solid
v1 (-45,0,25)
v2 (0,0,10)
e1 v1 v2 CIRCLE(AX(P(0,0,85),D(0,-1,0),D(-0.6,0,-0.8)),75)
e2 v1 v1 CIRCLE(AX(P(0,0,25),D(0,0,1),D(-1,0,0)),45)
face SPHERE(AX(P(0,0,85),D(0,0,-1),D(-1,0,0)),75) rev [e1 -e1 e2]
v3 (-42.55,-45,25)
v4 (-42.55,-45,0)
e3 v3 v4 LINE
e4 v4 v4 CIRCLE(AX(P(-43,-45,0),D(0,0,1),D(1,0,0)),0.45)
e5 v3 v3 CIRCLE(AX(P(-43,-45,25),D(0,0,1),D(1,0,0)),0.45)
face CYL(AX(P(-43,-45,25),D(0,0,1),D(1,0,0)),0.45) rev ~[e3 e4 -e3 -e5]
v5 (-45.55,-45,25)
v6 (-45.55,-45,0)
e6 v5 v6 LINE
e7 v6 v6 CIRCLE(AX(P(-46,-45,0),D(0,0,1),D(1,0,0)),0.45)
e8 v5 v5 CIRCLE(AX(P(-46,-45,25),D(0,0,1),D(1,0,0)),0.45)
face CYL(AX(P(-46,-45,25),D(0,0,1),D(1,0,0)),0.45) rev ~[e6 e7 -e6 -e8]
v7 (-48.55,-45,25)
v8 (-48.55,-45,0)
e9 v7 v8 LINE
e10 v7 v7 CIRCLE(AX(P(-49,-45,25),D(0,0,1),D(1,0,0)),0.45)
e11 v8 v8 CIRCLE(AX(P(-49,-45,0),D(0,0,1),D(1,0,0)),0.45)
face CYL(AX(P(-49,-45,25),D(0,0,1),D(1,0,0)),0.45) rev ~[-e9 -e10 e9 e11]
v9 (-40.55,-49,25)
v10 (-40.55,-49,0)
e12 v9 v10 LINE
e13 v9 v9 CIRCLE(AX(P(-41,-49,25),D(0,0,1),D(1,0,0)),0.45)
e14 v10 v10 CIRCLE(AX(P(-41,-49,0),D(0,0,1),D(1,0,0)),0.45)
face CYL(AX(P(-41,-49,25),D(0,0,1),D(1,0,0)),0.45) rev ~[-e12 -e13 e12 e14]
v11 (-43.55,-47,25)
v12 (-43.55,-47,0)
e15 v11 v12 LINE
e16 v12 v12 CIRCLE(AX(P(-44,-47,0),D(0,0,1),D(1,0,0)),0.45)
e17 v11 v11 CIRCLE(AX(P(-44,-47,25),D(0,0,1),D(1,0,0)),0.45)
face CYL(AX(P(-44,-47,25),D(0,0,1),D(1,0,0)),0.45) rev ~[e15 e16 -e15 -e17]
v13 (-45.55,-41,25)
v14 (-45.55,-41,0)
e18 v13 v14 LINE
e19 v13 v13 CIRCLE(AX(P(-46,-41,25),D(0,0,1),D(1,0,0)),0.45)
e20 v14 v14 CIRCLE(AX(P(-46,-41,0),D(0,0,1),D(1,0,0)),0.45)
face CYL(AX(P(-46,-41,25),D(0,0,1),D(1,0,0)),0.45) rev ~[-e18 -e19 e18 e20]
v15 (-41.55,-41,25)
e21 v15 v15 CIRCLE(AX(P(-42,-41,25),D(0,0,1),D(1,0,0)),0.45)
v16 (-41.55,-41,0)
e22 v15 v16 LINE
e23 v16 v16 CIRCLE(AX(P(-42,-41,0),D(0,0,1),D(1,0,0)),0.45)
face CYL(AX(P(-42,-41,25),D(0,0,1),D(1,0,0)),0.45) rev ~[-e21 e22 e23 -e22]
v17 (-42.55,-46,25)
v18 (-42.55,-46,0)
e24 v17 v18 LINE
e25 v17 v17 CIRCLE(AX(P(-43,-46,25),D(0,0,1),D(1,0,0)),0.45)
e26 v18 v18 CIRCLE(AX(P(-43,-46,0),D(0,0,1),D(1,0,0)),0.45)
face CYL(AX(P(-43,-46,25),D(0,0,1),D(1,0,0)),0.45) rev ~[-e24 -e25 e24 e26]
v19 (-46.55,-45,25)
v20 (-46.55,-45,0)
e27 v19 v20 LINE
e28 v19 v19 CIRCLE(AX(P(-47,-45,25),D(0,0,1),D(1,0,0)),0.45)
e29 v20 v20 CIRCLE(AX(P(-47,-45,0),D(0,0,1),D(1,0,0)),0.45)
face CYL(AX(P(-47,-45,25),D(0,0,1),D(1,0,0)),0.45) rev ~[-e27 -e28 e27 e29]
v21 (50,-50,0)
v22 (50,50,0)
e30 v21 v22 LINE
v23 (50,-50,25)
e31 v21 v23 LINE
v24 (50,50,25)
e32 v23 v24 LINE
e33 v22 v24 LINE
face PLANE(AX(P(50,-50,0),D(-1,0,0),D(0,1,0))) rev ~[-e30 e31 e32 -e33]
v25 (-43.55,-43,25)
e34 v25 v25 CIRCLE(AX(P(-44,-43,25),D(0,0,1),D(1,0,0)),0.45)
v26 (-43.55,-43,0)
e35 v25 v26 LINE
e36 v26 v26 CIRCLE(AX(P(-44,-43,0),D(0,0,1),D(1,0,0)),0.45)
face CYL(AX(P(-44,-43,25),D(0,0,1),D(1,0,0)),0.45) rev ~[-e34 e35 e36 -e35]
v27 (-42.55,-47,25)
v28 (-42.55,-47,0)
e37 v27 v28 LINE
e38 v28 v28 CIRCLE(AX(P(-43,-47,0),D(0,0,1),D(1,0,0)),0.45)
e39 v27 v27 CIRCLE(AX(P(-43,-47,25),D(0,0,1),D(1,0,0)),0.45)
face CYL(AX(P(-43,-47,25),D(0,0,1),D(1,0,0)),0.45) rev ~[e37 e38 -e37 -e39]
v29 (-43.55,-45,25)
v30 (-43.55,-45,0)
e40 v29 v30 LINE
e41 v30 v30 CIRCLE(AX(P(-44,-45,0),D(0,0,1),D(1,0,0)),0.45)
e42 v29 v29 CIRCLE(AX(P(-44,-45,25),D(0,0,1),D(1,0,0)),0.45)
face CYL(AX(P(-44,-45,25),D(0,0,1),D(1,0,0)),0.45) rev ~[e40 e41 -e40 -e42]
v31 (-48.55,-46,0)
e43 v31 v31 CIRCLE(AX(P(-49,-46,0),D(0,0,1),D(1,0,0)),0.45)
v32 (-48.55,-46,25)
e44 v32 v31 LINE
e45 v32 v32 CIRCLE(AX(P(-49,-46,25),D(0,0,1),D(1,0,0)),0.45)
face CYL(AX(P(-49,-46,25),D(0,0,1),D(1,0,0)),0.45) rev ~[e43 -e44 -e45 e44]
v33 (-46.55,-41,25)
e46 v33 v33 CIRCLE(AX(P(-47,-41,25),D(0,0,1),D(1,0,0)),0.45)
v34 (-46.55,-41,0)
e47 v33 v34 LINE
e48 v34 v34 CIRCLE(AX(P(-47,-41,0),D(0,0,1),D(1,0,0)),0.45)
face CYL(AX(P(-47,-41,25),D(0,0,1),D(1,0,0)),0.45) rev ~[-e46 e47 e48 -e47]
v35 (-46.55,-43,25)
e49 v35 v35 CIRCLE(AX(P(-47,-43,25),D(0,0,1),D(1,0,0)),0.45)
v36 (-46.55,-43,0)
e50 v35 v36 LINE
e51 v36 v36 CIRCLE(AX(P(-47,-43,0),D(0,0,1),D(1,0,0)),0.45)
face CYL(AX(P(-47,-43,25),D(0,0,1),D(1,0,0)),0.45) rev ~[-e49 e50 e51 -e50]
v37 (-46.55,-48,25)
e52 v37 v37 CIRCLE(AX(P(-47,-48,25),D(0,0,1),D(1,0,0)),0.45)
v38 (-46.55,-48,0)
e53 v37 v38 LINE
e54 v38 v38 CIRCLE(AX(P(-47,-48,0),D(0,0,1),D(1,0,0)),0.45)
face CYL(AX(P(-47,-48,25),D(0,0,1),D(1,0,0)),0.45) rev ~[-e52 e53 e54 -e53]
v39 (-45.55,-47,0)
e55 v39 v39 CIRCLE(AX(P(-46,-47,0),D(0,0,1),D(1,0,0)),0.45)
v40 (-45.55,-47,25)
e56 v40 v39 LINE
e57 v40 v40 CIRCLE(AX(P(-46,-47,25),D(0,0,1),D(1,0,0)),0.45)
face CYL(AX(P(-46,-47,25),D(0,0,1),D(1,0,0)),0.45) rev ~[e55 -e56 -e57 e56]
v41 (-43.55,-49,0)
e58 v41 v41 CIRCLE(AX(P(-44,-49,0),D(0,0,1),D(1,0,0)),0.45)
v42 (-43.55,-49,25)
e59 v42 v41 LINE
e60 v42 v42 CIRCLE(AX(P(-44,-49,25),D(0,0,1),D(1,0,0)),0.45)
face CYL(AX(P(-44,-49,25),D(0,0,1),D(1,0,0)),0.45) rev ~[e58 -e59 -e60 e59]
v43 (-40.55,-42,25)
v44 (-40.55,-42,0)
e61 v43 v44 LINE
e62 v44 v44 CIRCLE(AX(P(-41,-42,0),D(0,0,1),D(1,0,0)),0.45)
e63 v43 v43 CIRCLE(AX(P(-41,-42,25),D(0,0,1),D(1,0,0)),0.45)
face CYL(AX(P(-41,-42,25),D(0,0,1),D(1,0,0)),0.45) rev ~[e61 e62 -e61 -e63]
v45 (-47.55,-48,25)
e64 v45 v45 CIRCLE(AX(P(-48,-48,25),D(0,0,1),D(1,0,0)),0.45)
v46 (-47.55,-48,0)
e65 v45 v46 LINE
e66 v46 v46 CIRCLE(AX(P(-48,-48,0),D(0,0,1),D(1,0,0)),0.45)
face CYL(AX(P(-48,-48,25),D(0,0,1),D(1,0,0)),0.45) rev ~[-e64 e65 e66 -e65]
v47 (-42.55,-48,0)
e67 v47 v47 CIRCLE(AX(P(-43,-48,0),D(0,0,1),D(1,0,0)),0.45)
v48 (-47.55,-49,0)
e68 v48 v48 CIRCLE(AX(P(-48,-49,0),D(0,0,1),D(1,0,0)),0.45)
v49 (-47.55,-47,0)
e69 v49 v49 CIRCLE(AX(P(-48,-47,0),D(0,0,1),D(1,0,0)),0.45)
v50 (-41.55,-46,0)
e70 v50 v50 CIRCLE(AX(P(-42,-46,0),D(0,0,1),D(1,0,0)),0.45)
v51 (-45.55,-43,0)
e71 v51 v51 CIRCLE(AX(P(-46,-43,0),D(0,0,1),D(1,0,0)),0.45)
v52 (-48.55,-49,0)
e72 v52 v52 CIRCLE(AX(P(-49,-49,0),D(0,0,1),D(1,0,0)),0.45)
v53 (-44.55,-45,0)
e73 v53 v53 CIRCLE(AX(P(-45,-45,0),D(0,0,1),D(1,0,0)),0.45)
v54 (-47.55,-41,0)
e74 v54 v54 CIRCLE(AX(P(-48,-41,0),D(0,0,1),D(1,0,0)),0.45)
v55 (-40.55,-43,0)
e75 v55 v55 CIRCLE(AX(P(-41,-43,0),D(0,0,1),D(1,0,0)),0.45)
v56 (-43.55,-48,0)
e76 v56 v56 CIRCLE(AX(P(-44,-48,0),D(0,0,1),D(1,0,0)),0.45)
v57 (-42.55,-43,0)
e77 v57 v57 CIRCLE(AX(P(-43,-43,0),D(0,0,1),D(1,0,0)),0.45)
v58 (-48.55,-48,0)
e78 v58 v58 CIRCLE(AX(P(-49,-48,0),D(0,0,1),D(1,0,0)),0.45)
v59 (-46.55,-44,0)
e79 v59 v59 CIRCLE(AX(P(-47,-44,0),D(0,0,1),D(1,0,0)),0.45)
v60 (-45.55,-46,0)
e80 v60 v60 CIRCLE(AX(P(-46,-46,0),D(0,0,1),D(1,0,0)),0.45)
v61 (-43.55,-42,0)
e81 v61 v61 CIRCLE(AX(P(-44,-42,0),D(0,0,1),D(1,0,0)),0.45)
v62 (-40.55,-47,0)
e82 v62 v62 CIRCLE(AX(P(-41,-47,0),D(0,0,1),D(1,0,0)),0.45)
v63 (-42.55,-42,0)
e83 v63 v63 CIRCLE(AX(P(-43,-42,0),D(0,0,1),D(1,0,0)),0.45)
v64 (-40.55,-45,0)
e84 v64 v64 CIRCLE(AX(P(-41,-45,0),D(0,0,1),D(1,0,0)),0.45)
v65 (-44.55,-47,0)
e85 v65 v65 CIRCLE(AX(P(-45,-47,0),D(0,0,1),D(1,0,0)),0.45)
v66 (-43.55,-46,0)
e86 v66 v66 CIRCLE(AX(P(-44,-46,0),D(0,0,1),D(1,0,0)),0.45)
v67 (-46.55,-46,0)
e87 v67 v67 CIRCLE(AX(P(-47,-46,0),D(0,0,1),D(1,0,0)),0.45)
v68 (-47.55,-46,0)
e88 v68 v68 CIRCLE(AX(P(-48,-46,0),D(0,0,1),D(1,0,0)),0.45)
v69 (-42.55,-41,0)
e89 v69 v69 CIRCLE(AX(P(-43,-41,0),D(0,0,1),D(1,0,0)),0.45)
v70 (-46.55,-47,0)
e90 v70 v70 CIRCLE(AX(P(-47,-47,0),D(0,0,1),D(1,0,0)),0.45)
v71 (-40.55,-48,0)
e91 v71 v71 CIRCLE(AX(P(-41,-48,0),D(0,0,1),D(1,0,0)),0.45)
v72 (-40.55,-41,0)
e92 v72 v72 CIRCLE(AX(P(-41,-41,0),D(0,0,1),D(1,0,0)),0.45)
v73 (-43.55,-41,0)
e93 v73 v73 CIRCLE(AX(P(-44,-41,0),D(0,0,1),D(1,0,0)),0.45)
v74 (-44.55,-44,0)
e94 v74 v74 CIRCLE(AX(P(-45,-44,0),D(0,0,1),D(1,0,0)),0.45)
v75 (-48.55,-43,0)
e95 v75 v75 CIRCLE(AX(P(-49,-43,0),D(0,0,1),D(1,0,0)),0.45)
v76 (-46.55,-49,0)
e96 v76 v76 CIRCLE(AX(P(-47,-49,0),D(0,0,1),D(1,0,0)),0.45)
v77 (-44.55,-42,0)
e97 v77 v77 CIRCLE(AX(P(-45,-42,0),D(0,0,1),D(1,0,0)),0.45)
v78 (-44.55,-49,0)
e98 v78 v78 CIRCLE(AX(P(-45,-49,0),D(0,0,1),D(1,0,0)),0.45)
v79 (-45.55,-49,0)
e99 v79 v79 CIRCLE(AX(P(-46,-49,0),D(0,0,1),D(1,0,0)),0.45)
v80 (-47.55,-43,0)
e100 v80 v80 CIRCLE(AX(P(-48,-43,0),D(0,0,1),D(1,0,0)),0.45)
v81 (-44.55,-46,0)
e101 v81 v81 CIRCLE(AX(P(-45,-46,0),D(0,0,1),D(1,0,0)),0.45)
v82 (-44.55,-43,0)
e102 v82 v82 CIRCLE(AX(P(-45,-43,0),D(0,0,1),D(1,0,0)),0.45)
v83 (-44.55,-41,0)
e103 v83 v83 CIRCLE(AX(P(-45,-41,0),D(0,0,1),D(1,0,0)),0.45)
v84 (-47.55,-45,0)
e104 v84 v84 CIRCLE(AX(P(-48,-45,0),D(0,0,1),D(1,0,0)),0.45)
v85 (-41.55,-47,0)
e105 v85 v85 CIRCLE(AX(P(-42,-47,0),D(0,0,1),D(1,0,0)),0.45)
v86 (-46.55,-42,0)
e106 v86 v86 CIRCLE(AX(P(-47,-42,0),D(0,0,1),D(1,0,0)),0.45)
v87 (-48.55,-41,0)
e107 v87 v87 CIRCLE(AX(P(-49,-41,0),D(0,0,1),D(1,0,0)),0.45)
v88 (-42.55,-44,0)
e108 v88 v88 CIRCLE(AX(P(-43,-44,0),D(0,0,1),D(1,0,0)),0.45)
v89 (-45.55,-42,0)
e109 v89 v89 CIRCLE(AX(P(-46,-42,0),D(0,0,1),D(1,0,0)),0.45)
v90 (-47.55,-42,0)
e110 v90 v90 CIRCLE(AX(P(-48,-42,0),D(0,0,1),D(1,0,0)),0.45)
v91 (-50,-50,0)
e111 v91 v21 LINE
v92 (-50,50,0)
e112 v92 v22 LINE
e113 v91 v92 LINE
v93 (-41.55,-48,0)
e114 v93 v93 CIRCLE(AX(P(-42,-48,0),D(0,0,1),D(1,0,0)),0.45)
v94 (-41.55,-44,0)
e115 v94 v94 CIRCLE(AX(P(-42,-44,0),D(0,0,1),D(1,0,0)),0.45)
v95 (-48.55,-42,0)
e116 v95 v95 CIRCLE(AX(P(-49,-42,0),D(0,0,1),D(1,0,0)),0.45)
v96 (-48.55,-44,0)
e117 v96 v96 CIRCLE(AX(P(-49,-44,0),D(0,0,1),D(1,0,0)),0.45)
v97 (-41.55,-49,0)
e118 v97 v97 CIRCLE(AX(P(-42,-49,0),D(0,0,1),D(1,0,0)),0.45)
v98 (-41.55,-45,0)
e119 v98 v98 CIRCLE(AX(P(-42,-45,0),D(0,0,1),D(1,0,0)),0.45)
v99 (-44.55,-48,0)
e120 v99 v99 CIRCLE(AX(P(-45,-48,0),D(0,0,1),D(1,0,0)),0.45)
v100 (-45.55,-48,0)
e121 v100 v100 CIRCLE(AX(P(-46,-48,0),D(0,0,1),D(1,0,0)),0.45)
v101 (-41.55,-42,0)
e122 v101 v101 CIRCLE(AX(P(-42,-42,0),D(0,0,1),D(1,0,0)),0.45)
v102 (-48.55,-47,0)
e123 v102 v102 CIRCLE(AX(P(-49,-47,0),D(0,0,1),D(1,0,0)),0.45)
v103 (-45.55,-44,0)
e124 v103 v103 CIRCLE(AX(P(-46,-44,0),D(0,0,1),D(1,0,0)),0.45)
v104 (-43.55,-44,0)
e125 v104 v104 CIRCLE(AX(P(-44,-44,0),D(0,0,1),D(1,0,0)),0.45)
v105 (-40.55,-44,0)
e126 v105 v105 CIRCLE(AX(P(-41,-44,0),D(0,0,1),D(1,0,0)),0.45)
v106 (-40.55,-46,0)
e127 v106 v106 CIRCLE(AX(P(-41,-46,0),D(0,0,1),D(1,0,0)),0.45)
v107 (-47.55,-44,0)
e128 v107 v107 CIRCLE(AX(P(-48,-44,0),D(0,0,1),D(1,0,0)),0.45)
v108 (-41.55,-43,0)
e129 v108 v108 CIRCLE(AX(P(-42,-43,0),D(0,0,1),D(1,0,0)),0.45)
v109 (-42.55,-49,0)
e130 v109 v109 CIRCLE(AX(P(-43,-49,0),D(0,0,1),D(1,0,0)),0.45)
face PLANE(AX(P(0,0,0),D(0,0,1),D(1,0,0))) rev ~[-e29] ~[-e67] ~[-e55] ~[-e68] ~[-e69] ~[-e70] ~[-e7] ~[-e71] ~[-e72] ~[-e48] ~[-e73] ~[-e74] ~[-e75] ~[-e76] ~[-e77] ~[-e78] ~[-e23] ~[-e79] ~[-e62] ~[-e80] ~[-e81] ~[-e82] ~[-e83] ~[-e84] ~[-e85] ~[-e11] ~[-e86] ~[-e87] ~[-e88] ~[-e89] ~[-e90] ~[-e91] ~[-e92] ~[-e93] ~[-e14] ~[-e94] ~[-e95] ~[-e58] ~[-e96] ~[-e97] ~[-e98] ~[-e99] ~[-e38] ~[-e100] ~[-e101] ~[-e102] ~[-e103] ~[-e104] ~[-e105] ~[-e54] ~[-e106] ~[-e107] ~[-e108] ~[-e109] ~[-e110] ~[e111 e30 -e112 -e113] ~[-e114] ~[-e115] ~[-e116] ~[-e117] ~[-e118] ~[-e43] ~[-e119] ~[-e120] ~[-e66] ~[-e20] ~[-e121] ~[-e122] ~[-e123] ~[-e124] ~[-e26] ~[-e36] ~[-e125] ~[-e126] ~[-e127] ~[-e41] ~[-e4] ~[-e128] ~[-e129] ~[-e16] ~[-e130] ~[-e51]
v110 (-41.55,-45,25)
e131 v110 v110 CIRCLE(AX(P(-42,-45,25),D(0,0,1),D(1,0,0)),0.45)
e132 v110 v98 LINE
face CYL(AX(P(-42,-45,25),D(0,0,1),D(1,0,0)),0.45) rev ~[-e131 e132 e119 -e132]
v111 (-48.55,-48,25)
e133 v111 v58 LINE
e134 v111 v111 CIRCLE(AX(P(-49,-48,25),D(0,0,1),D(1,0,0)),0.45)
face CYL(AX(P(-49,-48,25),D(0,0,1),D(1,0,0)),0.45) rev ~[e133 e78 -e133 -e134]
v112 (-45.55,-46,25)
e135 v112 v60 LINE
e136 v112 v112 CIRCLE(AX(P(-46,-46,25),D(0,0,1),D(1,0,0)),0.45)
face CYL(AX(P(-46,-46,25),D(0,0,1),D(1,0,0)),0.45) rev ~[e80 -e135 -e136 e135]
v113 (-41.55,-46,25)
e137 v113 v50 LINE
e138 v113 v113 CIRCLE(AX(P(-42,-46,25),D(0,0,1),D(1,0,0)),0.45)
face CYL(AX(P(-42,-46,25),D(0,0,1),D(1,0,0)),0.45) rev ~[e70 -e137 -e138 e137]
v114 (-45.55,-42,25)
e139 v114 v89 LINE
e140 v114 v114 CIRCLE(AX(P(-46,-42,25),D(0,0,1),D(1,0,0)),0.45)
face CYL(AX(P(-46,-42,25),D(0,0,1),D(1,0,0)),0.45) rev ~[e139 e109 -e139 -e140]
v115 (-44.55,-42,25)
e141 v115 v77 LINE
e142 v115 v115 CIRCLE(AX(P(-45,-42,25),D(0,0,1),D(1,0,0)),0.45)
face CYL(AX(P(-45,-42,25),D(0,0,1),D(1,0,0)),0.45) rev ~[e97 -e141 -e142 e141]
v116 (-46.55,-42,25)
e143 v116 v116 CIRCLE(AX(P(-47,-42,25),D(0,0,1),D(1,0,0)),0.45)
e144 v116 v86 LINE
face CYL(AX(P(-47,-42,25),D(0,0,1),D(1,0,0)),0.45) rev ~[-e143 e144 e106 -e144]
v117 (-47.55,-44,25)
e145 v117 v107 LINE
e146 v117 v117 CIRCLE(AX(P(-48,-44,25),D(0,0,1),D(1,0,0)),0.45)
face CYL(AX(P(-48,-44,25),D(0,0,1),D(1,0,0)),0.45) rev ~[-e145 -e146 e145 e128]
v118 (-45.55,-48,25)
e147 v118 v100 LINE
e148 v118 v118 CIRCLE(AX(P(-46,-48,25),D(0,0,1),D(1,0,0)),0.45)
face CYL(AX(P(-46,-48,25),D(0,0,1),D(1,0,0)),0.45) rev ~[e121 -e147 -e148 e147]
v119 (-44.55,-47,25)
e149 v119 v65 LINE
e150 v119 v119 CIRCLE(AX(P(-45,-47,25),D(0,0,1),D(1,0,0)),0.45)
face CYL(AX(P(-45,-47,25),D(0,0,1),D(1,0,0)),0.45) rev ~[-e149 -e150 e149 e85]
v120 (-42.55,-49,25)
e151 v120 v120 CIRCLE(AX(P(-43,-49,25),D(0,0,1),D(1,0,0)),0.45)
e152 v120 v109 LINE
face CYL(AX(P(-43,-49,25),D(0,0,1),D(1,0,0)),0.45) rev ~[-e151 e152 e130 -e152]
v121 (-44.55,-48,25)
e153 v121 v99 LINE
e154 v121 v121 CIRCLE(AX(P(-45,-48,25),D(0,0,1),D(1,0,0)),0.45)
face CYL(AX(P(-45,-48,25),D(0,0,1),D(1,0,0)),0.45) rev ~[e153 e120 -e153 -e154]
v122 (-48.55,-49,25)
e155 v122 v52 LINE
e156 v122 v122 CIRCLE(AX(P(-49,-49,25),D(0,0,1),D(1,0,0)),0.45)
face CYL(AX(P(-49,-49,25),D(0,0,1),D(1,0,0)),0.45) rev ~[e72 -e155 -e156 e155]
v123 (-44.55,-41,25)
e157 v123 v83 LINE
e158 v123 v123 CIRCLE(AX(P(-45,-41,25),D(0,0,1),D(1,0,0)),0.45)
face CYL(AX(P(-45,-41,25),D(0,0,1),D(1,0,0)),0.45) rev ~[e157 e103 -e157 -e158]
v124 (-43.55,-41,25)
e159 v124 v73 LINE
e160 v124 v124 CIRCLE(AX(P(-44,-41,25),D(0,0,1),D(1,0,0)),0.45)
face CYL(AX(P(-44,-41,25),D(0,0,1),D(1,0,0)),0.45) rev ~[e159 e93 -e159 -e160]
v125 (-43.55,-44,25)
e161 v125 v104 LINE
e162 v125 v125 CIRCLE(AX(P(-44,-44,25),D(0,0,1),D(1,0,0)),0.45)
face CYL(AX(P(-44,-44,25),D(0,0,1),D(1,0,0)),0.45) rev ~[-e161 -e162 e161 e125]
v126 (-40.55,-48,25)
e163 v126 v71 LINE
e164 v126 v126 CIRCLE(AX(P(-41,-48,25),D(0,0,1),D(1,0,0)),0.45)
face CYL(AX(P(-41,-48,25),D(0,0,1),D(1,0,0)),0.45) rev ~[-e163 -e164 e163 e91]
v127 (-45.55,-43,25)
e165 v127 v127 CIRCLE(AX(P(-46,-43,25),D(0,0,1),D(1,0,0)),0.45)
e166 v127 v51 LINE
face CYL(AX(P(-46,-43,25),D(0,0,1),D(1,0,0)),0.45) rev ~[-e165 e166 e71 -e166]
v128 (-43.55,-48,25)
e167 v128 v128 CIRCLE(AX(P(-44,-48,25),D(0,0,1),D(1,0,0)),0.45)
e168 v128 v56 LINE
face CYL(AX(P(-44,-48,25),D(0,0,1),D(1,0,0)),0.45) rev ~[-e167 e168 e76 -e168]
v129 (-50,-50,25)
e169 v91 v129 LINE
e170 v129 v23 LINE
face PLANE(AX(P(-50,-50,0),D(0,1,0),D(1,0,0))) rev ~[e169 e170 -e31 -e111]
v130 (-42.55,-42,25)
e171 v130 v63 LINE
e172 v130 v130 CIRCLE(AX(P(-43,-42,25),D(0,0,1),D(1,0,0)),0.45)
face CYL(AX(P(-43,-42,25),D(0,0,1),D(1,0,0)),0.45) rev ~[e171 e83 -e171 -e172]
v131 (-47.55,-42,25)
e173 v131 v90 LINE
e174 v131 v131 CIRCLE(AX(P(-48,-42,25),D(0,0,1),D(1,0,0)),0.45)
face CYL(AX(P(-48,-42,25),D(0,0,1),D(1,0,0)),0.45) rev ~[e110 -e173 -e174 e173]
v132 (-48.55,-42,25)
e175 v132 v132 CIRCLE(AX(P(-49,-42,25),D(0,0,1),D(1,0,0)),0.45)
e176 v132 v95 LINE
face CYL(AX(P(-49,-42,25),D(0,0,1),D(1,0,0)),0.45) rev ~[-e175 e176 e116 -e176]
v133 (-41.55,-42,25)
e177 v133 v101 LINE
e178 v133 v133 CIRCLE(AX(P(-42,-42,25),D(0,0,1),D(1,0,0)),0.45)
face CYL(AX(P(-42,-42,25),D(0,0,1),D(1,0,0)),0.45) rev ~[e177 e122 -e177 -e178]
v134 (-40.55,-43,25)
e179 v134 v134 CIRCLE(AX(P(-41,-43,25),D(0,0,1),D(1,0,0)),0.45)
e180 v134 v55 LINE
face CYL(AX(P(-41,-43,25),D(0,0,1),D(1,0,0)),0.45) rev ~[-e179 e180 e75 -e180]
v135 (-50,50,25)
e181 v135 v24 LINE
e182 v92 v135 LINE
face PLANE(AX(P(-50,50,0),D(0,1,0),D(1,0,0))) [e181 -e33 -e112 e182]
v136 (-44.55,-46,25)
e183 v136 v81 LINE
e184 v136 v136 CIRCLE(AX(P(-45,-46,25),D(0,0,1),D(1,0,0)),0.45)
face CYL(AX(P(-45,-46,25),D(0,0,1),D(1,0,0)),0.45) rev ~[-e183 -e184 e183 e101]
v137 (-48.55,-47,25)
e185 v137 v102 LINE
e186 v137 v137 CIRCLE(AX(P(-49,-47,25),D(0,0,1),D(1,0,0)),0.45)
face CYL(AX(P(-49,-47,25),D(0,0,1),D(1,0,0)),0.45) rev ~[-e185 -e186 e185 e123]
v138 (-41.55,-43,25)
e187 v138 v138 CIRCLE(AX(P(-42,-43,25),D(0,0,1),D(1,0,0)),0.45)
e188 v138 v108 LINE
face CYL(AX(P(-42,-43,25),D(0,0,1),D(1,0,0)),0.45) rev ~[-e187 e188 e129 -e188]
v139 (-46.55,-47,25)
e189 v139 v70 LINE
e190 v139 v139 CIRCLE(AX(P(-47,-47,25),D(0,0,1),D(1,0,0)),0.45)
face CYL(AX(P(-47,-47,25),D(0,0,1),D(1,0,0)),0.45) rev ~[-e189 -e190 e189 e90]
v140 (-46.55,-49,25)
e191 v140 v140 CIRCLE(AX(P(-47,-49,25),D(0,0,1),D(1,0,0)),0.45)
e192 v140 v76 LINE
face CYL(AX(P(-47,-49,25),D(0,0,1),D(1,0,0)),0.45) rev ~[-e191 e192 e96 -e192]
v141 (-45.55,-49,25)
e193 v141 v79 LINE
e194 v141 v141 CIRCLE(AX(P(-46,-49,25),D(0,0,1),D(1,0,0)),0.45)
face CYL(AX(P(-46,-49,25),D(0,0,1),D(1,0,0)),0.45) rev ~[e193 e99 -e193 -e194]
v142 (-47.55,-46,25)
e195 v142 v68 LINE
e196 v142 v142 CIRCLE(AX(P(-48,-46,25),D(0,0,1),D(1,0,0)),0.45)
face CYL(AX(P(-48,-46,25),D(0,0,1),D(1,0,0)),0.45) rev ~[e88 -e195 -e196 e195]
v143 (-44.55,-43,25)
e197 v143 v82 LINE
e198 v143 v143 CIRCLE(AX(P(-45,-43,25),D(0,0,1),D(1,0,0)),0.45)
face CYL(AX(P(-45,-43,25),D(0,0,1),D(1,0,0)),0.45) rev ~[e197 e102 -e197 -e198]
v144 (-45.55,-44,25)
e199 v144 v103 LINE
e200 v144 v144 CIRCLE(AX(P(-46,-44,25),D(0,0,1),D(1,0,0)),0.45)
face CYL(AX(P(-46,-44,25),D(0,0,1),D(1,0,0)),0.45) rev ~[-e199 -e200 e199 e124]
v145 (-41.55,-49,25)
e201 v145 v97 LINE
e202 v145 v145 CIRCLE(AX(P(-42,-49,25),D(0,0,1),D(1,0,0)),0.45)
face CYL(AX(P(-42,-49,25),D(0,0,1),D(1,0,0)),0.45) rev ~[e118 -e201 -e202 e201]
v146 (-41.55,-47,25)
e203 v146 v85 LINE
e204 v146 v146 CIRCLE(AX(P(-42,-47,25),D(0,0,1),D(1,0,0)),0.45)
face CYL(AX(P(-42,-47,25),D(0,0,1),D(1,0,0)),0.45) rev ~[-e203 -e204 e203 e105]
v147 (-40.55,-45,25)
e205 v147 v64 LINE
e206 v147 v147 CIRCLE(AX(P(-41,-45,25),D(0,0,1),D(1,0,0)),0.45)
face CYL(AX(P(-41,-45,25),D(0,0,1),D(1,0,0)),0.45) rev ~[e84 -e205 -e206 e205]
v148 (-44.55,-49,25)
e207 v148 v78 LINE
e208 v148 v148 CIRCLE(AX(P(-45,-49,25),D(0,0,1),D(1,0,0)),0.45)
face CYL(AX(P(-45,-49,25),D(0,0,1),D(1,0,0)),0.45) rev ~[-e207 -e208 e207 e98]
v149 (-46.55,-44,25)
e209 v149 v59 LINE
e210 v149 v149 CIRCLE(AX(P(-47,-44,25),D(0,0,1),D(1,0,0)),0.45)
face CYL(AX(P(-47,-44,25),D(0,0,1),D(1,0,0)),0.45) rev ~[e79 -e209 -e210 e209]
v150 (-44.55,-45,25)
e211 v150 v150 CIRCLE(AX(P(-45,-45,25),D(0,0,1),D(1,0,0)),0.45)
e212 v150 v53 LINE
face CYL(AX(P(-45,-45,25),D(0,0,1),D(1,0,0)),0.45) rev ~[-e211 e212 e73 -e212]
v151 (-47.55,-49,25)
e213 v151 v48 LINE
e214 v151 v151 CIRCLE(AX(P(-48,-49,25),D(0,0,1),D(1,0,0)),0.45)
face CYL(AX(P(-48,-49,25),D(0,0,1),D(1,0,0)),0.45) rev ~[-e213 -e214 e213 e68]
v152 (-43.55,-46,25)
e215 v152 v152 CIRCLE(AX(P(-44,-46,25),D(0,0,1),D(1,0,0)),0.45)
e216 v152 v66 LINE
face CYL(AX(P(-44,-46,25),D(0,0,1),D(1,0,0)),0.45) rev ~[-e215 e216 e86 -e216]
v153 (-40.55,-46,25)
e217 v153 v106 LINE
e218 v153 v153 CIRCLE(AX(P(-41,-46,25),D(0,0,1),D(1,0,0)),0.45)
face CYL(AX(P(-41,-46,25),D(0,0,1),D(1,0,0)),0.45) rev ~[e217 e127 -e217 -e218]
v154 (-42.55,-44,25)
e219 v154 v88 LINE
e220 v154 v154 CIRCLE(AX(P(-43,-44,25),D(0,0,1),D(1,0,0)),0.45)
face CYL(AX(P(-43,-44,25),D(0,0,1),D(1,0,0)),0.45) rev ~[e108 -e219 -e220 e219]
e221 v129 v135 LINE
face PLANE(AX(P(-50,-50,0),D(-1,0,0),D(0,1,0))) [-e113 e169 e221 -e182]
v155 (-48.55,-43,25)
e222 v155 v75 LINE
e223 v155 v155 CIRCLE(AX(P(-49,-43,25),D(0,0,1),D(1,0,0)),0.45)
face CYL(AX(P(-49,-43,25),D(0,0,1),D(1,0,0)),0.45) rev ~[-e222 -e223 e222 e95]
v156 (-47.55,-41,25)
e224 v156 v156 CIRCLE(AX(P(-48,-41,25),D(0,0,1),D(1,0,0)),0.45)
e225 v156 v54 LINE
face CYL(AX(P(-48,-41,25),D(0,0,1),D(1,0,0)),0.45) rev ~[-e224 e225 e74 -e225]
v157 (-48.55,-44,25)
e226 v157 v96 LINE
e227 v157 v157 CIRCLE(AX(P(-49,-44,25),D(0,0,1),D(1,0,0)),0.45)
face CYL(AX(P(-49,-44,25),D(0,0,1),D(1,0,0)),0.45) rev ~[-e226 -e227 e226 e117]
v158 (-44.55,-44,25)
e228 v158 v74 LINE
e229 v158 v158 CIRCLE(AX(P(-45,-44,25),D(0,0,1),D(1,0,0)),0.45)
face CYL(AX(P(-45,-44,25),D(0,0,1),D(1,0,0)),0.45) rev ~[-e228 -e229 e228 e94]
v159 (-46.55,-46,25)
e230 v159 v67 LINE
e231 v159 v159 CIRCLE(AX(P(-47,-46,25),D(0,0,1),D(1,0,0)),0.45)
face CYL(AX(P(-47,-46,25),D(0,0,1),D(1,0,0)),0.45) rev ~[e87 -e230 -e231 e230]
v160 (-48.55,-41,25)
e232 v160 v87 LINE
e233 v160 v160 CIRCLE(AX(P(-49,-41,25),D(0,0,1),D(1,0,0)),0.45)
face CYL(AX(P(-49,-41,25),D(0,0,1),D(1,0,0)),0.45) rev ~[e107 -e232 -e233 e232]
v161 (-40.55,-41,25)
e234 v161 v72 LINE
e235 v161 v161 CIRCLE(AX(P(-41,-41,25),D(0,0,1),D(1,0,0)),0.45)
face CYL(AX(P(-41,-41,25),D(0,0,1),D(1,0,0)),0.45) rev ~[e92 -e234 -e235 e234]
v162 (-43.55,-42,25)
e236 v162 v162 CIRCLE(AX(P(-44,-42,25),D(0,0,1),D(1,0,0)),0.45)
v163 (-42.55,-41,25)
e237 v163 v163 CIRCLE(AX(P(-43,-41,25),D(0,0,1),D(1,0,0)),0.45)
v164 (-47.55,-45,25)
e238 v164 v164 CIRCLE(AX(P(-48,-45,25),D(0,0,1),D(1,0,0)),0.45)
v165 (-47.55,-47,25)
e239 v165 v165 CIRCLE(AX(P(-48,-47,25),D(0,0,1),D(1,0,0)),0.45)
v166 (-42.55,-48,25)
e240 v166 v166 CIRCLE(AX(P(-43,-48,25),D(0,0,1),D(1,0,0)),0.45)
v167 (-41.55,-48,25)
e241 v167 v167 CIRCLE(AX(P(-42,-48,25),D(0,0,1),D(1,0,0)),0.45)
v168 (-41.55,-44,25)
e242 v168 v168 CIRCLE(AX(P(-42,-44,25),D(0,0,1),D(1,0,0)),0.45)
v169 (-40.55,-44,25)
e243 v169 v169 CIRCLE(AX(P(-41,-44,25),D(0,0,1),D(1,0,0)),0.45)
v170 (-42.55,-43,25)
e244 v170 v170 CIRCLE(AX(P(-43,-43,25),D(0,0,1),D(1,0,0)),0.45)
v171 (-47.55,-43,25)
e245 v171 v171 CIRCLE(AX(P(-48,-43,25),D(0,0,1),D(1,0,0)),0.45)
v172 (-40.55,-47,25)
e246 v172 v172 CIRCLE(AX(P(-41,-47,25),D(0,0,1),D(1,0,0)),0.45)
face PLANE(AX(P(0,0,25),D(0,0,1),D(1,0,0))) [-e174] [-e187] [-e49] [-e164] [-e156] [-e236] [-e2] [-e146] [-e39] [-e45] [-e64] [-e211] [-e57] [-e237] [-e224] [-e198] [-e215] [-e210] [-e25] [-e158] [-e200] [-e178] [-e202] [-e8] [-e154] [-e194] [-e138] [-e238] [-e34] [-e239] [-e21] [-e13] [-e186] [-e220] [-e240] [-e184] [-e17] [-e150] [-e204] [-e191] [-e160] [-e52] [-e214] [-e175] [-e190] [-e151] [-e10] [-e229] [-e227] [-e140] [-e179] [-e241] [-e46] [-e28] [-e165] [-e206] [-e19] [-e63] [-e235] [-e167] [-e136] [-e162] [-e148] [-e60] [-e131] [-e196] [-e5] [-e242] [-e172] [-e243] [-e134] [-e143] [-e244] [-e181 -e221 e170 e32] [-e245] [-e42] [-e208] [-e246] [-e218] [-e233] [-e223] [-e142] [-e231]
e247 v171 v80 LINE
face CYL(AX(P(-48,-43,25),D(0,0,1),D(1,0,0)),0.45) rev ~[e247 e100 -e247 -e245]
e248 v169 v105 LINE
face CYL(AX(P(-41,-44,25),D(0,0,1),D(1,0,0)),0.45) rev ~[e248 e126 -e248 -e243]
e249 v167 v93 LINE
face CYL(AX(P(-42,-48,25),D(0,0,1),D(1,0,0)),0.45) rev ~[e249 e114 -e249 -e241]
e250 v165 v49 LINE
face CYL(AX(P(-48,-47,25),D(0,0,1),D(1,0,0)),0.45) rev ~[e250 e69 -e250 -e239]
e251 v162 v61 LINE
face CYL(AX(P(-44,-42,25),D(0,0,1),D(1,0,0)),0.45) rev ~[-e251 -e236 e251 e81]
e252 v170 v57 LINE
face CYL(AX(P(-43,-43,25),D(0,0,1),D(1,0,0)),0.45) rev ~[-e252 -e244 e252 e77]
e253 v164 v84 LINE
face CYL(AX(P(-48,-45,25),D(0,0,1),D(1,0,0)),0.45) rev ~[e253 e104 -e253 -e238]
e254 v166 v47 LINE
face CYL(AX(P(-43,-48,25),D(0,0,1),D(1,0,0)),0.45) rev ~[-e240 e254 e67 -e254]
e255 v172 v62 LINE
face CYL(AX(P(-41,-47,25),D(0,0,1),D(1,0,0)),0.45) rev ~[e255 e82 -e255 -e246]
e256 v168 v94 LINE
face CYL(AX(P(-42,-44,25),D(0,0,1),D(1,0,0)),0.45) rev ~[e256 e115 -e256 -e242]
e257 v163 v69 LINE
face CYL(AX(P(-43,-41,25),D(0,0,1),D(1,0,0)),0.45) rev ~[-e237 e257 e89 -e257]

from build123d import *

# Parameters (mm, degrees)
F0_W     = 100
F0_H     = 100
F1_DEPTH = 25
F2_R     = 0.45
F3_DEPTH = 25.001


with BuildPart() as f1:
    # F0 (on Top) → F1 (new body)
    with BuildSketch(Plane.XY):
        Rectangle(F0_W, F0_H)
    extrude(amount=F1_DEPTH)

    # F2 (on face) → F3 (cut, through all)
    with BuildSketch(Plane.XY.offset(25)):
        with Locations((-49, -49)):
            Circle(F2_R)
        with Locations((-49, -48)):
            Circle(F2_R)
        with Locations((-49, -47)):
            Circle(F2_R)
        with Locations((-49, -46)):
            Circle(F2_R)
        with Locations((-49, -45)):
            Circle(F2_R)
        with Locations((-49, -44)):
            Circle(F2_R)
        with Locations((-49, -43)):
            Circle(F2_R)
        with Locations((-49, -42)):
            Circle(F2_R)
        with Locations((-49, -41)):
            Circle(F2_R)
        with Locations((-48, -49)):
            Circle(F2_R)
        with Locations((-48, -48)):
            Circle(F2_R)
        with Locations((-48, -47)):
            Circle(F2_R)
        with Locations((-48, -46)):
            Circle(F2_R)
        with Locations((-48, -45)):
            Circle(F2_R)
        with Locations((-48, -44)):
            Circle(F2_R)
        with Locations((-48, -43)):
            Circle(F2_R)
        with Locations((-48, -42)):
            Circle(F2_R)
        with Locations((-48, -41)):
            Circle(F2_R)
        with Locations((-47, -49)):
            Circle(F2_R)
        with Locations((-47, -48)):
            Circle(F2_R)
        with Locations((-47, -47)):
            Circle(F2_R)
        with Locations((-47, -46)):
            Circle(F2_R)
        with Locations((-47, -45)):
            Circle(F2_R)
        with Locations((-47, -44)):
            Circle(F2_R)
        with Locations((-47, -43)):
            Circle(F2_R)
        with Locations((-47, -42)):
            Circle(F2_R)
        with Locations((-47, -41)):
            Circle(F2_R)
        with Locations((-46, -49)):
            Circle(F2_R)
        with Locations((-46, -48)):
            Circle(F2_R)
        with Locations((-46, -47)):
            Circle(F2_R)
        with Locations((-46, -46)):
            Circle(F2_R)
        with Locations((-46, -45)):
            Circle(F2_R)
        with Locations((-46, -44)):
            Circle(F2_R)
        with Locations((-46, -43)):
            Circle(F2_R)
        with Locations((-46, -42)):
            Circle(F2_R)
        with Locations((-46, -41)):
            Circle(F2_R)
        with Locations((-45, -49)):
            Circle(F2_R)
        with Locations((-45, -48)):
            Circle(F2_R)
        with Locations((-45, -47)):
            Circle(F2_R)
        with Locations((-45, -46)):
            Circle(F2_R)
        with Locations((-45, -45)):
            Circle(F2_R)
        with Locations((-45, -44)):
            Circle(F2_R)
        with Locations((-45, -43)):
            Circle(F2_R)
        with Locations((-45, -42)):
            Circle(F2_R)
        with Locations((-45, -41)):
            Circle(F2_R)
        with Locations((-44, -49)):
            Circle(F2_R)
        with Locations((-44, -48)):
            Circle(F2_R)
        with Locations((-44, -47)):
            Circle(F2_R)
        with Locations((-44, -46)):
            Circle(F2_R)
        with Locations((-44, -45)):
            Circle(F2_R)
        with Locations((-44, -44)):
            Circle(F2_R)
        with Locations((-44, -43)):
            Circle(F2_R)
        with Locations((-44, -42)):
            Circle(F2_R)
        with Locations((-44, -41)):
            Circle(F2_R)
        with Locations((-43, -49)):
            Circle(F2_R)
        with Locations((-43, -48)):
            Circle(F2_R)
        with Locations((-43, -47)):
            Circle(F2_R)
        with Locations((-43, -46)):
            Circle(F2_R)
        with Locations((-43, -45)):
            Circle(F2_R)
        with Locations((-43, -44)):
            Circle(F2_R)
        with Locations((-43, -43)):
            Circle(F2_R)
        with Locations((-43, -42)):
            Circle(F2_R)
        with Locations((-43, -41)):
            Circle(F2_R)
        with Locations((-42, -49)):
            Circle(F2_R)
        with Locations((-42, -48)):
            Circle(F2_R)
        with Locations((-42, -47)):
            Circle(F2_R)
        with Locations((-42, -46)):
            Circle(F2_R)
        with Locations((-42, -45)):
            Circle(F2_R)
        with Locations((-42, -44)):
            Circle(F2_R)
        with Locations((-42, -43)):
            Circle(F2_R)
        with Locations((-42, -42)):
            Circle(F2_R)
        with Locations((-42, -41)):
            Circle(F2_R)
        with Locations((-41, -49)):
            Circle(F2_R)
        with Locations((-41, -48)):
            Circle(F2_R)
        with Locations((-41, -47)):
            Circle(F2_R)
        with Locations((-41, -46)):
            Circle(F2_R)
        with Locations((-41, -45)):
            Circle(F2_R)
        with Locations((-41, -44)):
            Circle(F2_R)
        with Locations((-41, -43)):
            Circle(F2_R)
        with Locations((-41, -42)):
            Circle(F2_R)
        with Locations((-41, -41)):
            Circle(F2_R)
    extrude(amount=-F3_DEPTH, mode=Mode.SUBTRACT)

    # F5 (on offset) → F6 (revolve, cut)
    with BuildSketch(Plane.XZ):
        with BuildLine():
            Line((0, 10), (0, 25))
            Line((0, 25), (-45, 25))
            ThreePointArc((-45, 25), (-23.7170824513, 13.8487526462), (0, 10))
        make_face()
    revolve(axis=Axis((0, 0, 55), (0, 0, 1)), mode=Mode.SUBTRACT)


solid = f1.part
